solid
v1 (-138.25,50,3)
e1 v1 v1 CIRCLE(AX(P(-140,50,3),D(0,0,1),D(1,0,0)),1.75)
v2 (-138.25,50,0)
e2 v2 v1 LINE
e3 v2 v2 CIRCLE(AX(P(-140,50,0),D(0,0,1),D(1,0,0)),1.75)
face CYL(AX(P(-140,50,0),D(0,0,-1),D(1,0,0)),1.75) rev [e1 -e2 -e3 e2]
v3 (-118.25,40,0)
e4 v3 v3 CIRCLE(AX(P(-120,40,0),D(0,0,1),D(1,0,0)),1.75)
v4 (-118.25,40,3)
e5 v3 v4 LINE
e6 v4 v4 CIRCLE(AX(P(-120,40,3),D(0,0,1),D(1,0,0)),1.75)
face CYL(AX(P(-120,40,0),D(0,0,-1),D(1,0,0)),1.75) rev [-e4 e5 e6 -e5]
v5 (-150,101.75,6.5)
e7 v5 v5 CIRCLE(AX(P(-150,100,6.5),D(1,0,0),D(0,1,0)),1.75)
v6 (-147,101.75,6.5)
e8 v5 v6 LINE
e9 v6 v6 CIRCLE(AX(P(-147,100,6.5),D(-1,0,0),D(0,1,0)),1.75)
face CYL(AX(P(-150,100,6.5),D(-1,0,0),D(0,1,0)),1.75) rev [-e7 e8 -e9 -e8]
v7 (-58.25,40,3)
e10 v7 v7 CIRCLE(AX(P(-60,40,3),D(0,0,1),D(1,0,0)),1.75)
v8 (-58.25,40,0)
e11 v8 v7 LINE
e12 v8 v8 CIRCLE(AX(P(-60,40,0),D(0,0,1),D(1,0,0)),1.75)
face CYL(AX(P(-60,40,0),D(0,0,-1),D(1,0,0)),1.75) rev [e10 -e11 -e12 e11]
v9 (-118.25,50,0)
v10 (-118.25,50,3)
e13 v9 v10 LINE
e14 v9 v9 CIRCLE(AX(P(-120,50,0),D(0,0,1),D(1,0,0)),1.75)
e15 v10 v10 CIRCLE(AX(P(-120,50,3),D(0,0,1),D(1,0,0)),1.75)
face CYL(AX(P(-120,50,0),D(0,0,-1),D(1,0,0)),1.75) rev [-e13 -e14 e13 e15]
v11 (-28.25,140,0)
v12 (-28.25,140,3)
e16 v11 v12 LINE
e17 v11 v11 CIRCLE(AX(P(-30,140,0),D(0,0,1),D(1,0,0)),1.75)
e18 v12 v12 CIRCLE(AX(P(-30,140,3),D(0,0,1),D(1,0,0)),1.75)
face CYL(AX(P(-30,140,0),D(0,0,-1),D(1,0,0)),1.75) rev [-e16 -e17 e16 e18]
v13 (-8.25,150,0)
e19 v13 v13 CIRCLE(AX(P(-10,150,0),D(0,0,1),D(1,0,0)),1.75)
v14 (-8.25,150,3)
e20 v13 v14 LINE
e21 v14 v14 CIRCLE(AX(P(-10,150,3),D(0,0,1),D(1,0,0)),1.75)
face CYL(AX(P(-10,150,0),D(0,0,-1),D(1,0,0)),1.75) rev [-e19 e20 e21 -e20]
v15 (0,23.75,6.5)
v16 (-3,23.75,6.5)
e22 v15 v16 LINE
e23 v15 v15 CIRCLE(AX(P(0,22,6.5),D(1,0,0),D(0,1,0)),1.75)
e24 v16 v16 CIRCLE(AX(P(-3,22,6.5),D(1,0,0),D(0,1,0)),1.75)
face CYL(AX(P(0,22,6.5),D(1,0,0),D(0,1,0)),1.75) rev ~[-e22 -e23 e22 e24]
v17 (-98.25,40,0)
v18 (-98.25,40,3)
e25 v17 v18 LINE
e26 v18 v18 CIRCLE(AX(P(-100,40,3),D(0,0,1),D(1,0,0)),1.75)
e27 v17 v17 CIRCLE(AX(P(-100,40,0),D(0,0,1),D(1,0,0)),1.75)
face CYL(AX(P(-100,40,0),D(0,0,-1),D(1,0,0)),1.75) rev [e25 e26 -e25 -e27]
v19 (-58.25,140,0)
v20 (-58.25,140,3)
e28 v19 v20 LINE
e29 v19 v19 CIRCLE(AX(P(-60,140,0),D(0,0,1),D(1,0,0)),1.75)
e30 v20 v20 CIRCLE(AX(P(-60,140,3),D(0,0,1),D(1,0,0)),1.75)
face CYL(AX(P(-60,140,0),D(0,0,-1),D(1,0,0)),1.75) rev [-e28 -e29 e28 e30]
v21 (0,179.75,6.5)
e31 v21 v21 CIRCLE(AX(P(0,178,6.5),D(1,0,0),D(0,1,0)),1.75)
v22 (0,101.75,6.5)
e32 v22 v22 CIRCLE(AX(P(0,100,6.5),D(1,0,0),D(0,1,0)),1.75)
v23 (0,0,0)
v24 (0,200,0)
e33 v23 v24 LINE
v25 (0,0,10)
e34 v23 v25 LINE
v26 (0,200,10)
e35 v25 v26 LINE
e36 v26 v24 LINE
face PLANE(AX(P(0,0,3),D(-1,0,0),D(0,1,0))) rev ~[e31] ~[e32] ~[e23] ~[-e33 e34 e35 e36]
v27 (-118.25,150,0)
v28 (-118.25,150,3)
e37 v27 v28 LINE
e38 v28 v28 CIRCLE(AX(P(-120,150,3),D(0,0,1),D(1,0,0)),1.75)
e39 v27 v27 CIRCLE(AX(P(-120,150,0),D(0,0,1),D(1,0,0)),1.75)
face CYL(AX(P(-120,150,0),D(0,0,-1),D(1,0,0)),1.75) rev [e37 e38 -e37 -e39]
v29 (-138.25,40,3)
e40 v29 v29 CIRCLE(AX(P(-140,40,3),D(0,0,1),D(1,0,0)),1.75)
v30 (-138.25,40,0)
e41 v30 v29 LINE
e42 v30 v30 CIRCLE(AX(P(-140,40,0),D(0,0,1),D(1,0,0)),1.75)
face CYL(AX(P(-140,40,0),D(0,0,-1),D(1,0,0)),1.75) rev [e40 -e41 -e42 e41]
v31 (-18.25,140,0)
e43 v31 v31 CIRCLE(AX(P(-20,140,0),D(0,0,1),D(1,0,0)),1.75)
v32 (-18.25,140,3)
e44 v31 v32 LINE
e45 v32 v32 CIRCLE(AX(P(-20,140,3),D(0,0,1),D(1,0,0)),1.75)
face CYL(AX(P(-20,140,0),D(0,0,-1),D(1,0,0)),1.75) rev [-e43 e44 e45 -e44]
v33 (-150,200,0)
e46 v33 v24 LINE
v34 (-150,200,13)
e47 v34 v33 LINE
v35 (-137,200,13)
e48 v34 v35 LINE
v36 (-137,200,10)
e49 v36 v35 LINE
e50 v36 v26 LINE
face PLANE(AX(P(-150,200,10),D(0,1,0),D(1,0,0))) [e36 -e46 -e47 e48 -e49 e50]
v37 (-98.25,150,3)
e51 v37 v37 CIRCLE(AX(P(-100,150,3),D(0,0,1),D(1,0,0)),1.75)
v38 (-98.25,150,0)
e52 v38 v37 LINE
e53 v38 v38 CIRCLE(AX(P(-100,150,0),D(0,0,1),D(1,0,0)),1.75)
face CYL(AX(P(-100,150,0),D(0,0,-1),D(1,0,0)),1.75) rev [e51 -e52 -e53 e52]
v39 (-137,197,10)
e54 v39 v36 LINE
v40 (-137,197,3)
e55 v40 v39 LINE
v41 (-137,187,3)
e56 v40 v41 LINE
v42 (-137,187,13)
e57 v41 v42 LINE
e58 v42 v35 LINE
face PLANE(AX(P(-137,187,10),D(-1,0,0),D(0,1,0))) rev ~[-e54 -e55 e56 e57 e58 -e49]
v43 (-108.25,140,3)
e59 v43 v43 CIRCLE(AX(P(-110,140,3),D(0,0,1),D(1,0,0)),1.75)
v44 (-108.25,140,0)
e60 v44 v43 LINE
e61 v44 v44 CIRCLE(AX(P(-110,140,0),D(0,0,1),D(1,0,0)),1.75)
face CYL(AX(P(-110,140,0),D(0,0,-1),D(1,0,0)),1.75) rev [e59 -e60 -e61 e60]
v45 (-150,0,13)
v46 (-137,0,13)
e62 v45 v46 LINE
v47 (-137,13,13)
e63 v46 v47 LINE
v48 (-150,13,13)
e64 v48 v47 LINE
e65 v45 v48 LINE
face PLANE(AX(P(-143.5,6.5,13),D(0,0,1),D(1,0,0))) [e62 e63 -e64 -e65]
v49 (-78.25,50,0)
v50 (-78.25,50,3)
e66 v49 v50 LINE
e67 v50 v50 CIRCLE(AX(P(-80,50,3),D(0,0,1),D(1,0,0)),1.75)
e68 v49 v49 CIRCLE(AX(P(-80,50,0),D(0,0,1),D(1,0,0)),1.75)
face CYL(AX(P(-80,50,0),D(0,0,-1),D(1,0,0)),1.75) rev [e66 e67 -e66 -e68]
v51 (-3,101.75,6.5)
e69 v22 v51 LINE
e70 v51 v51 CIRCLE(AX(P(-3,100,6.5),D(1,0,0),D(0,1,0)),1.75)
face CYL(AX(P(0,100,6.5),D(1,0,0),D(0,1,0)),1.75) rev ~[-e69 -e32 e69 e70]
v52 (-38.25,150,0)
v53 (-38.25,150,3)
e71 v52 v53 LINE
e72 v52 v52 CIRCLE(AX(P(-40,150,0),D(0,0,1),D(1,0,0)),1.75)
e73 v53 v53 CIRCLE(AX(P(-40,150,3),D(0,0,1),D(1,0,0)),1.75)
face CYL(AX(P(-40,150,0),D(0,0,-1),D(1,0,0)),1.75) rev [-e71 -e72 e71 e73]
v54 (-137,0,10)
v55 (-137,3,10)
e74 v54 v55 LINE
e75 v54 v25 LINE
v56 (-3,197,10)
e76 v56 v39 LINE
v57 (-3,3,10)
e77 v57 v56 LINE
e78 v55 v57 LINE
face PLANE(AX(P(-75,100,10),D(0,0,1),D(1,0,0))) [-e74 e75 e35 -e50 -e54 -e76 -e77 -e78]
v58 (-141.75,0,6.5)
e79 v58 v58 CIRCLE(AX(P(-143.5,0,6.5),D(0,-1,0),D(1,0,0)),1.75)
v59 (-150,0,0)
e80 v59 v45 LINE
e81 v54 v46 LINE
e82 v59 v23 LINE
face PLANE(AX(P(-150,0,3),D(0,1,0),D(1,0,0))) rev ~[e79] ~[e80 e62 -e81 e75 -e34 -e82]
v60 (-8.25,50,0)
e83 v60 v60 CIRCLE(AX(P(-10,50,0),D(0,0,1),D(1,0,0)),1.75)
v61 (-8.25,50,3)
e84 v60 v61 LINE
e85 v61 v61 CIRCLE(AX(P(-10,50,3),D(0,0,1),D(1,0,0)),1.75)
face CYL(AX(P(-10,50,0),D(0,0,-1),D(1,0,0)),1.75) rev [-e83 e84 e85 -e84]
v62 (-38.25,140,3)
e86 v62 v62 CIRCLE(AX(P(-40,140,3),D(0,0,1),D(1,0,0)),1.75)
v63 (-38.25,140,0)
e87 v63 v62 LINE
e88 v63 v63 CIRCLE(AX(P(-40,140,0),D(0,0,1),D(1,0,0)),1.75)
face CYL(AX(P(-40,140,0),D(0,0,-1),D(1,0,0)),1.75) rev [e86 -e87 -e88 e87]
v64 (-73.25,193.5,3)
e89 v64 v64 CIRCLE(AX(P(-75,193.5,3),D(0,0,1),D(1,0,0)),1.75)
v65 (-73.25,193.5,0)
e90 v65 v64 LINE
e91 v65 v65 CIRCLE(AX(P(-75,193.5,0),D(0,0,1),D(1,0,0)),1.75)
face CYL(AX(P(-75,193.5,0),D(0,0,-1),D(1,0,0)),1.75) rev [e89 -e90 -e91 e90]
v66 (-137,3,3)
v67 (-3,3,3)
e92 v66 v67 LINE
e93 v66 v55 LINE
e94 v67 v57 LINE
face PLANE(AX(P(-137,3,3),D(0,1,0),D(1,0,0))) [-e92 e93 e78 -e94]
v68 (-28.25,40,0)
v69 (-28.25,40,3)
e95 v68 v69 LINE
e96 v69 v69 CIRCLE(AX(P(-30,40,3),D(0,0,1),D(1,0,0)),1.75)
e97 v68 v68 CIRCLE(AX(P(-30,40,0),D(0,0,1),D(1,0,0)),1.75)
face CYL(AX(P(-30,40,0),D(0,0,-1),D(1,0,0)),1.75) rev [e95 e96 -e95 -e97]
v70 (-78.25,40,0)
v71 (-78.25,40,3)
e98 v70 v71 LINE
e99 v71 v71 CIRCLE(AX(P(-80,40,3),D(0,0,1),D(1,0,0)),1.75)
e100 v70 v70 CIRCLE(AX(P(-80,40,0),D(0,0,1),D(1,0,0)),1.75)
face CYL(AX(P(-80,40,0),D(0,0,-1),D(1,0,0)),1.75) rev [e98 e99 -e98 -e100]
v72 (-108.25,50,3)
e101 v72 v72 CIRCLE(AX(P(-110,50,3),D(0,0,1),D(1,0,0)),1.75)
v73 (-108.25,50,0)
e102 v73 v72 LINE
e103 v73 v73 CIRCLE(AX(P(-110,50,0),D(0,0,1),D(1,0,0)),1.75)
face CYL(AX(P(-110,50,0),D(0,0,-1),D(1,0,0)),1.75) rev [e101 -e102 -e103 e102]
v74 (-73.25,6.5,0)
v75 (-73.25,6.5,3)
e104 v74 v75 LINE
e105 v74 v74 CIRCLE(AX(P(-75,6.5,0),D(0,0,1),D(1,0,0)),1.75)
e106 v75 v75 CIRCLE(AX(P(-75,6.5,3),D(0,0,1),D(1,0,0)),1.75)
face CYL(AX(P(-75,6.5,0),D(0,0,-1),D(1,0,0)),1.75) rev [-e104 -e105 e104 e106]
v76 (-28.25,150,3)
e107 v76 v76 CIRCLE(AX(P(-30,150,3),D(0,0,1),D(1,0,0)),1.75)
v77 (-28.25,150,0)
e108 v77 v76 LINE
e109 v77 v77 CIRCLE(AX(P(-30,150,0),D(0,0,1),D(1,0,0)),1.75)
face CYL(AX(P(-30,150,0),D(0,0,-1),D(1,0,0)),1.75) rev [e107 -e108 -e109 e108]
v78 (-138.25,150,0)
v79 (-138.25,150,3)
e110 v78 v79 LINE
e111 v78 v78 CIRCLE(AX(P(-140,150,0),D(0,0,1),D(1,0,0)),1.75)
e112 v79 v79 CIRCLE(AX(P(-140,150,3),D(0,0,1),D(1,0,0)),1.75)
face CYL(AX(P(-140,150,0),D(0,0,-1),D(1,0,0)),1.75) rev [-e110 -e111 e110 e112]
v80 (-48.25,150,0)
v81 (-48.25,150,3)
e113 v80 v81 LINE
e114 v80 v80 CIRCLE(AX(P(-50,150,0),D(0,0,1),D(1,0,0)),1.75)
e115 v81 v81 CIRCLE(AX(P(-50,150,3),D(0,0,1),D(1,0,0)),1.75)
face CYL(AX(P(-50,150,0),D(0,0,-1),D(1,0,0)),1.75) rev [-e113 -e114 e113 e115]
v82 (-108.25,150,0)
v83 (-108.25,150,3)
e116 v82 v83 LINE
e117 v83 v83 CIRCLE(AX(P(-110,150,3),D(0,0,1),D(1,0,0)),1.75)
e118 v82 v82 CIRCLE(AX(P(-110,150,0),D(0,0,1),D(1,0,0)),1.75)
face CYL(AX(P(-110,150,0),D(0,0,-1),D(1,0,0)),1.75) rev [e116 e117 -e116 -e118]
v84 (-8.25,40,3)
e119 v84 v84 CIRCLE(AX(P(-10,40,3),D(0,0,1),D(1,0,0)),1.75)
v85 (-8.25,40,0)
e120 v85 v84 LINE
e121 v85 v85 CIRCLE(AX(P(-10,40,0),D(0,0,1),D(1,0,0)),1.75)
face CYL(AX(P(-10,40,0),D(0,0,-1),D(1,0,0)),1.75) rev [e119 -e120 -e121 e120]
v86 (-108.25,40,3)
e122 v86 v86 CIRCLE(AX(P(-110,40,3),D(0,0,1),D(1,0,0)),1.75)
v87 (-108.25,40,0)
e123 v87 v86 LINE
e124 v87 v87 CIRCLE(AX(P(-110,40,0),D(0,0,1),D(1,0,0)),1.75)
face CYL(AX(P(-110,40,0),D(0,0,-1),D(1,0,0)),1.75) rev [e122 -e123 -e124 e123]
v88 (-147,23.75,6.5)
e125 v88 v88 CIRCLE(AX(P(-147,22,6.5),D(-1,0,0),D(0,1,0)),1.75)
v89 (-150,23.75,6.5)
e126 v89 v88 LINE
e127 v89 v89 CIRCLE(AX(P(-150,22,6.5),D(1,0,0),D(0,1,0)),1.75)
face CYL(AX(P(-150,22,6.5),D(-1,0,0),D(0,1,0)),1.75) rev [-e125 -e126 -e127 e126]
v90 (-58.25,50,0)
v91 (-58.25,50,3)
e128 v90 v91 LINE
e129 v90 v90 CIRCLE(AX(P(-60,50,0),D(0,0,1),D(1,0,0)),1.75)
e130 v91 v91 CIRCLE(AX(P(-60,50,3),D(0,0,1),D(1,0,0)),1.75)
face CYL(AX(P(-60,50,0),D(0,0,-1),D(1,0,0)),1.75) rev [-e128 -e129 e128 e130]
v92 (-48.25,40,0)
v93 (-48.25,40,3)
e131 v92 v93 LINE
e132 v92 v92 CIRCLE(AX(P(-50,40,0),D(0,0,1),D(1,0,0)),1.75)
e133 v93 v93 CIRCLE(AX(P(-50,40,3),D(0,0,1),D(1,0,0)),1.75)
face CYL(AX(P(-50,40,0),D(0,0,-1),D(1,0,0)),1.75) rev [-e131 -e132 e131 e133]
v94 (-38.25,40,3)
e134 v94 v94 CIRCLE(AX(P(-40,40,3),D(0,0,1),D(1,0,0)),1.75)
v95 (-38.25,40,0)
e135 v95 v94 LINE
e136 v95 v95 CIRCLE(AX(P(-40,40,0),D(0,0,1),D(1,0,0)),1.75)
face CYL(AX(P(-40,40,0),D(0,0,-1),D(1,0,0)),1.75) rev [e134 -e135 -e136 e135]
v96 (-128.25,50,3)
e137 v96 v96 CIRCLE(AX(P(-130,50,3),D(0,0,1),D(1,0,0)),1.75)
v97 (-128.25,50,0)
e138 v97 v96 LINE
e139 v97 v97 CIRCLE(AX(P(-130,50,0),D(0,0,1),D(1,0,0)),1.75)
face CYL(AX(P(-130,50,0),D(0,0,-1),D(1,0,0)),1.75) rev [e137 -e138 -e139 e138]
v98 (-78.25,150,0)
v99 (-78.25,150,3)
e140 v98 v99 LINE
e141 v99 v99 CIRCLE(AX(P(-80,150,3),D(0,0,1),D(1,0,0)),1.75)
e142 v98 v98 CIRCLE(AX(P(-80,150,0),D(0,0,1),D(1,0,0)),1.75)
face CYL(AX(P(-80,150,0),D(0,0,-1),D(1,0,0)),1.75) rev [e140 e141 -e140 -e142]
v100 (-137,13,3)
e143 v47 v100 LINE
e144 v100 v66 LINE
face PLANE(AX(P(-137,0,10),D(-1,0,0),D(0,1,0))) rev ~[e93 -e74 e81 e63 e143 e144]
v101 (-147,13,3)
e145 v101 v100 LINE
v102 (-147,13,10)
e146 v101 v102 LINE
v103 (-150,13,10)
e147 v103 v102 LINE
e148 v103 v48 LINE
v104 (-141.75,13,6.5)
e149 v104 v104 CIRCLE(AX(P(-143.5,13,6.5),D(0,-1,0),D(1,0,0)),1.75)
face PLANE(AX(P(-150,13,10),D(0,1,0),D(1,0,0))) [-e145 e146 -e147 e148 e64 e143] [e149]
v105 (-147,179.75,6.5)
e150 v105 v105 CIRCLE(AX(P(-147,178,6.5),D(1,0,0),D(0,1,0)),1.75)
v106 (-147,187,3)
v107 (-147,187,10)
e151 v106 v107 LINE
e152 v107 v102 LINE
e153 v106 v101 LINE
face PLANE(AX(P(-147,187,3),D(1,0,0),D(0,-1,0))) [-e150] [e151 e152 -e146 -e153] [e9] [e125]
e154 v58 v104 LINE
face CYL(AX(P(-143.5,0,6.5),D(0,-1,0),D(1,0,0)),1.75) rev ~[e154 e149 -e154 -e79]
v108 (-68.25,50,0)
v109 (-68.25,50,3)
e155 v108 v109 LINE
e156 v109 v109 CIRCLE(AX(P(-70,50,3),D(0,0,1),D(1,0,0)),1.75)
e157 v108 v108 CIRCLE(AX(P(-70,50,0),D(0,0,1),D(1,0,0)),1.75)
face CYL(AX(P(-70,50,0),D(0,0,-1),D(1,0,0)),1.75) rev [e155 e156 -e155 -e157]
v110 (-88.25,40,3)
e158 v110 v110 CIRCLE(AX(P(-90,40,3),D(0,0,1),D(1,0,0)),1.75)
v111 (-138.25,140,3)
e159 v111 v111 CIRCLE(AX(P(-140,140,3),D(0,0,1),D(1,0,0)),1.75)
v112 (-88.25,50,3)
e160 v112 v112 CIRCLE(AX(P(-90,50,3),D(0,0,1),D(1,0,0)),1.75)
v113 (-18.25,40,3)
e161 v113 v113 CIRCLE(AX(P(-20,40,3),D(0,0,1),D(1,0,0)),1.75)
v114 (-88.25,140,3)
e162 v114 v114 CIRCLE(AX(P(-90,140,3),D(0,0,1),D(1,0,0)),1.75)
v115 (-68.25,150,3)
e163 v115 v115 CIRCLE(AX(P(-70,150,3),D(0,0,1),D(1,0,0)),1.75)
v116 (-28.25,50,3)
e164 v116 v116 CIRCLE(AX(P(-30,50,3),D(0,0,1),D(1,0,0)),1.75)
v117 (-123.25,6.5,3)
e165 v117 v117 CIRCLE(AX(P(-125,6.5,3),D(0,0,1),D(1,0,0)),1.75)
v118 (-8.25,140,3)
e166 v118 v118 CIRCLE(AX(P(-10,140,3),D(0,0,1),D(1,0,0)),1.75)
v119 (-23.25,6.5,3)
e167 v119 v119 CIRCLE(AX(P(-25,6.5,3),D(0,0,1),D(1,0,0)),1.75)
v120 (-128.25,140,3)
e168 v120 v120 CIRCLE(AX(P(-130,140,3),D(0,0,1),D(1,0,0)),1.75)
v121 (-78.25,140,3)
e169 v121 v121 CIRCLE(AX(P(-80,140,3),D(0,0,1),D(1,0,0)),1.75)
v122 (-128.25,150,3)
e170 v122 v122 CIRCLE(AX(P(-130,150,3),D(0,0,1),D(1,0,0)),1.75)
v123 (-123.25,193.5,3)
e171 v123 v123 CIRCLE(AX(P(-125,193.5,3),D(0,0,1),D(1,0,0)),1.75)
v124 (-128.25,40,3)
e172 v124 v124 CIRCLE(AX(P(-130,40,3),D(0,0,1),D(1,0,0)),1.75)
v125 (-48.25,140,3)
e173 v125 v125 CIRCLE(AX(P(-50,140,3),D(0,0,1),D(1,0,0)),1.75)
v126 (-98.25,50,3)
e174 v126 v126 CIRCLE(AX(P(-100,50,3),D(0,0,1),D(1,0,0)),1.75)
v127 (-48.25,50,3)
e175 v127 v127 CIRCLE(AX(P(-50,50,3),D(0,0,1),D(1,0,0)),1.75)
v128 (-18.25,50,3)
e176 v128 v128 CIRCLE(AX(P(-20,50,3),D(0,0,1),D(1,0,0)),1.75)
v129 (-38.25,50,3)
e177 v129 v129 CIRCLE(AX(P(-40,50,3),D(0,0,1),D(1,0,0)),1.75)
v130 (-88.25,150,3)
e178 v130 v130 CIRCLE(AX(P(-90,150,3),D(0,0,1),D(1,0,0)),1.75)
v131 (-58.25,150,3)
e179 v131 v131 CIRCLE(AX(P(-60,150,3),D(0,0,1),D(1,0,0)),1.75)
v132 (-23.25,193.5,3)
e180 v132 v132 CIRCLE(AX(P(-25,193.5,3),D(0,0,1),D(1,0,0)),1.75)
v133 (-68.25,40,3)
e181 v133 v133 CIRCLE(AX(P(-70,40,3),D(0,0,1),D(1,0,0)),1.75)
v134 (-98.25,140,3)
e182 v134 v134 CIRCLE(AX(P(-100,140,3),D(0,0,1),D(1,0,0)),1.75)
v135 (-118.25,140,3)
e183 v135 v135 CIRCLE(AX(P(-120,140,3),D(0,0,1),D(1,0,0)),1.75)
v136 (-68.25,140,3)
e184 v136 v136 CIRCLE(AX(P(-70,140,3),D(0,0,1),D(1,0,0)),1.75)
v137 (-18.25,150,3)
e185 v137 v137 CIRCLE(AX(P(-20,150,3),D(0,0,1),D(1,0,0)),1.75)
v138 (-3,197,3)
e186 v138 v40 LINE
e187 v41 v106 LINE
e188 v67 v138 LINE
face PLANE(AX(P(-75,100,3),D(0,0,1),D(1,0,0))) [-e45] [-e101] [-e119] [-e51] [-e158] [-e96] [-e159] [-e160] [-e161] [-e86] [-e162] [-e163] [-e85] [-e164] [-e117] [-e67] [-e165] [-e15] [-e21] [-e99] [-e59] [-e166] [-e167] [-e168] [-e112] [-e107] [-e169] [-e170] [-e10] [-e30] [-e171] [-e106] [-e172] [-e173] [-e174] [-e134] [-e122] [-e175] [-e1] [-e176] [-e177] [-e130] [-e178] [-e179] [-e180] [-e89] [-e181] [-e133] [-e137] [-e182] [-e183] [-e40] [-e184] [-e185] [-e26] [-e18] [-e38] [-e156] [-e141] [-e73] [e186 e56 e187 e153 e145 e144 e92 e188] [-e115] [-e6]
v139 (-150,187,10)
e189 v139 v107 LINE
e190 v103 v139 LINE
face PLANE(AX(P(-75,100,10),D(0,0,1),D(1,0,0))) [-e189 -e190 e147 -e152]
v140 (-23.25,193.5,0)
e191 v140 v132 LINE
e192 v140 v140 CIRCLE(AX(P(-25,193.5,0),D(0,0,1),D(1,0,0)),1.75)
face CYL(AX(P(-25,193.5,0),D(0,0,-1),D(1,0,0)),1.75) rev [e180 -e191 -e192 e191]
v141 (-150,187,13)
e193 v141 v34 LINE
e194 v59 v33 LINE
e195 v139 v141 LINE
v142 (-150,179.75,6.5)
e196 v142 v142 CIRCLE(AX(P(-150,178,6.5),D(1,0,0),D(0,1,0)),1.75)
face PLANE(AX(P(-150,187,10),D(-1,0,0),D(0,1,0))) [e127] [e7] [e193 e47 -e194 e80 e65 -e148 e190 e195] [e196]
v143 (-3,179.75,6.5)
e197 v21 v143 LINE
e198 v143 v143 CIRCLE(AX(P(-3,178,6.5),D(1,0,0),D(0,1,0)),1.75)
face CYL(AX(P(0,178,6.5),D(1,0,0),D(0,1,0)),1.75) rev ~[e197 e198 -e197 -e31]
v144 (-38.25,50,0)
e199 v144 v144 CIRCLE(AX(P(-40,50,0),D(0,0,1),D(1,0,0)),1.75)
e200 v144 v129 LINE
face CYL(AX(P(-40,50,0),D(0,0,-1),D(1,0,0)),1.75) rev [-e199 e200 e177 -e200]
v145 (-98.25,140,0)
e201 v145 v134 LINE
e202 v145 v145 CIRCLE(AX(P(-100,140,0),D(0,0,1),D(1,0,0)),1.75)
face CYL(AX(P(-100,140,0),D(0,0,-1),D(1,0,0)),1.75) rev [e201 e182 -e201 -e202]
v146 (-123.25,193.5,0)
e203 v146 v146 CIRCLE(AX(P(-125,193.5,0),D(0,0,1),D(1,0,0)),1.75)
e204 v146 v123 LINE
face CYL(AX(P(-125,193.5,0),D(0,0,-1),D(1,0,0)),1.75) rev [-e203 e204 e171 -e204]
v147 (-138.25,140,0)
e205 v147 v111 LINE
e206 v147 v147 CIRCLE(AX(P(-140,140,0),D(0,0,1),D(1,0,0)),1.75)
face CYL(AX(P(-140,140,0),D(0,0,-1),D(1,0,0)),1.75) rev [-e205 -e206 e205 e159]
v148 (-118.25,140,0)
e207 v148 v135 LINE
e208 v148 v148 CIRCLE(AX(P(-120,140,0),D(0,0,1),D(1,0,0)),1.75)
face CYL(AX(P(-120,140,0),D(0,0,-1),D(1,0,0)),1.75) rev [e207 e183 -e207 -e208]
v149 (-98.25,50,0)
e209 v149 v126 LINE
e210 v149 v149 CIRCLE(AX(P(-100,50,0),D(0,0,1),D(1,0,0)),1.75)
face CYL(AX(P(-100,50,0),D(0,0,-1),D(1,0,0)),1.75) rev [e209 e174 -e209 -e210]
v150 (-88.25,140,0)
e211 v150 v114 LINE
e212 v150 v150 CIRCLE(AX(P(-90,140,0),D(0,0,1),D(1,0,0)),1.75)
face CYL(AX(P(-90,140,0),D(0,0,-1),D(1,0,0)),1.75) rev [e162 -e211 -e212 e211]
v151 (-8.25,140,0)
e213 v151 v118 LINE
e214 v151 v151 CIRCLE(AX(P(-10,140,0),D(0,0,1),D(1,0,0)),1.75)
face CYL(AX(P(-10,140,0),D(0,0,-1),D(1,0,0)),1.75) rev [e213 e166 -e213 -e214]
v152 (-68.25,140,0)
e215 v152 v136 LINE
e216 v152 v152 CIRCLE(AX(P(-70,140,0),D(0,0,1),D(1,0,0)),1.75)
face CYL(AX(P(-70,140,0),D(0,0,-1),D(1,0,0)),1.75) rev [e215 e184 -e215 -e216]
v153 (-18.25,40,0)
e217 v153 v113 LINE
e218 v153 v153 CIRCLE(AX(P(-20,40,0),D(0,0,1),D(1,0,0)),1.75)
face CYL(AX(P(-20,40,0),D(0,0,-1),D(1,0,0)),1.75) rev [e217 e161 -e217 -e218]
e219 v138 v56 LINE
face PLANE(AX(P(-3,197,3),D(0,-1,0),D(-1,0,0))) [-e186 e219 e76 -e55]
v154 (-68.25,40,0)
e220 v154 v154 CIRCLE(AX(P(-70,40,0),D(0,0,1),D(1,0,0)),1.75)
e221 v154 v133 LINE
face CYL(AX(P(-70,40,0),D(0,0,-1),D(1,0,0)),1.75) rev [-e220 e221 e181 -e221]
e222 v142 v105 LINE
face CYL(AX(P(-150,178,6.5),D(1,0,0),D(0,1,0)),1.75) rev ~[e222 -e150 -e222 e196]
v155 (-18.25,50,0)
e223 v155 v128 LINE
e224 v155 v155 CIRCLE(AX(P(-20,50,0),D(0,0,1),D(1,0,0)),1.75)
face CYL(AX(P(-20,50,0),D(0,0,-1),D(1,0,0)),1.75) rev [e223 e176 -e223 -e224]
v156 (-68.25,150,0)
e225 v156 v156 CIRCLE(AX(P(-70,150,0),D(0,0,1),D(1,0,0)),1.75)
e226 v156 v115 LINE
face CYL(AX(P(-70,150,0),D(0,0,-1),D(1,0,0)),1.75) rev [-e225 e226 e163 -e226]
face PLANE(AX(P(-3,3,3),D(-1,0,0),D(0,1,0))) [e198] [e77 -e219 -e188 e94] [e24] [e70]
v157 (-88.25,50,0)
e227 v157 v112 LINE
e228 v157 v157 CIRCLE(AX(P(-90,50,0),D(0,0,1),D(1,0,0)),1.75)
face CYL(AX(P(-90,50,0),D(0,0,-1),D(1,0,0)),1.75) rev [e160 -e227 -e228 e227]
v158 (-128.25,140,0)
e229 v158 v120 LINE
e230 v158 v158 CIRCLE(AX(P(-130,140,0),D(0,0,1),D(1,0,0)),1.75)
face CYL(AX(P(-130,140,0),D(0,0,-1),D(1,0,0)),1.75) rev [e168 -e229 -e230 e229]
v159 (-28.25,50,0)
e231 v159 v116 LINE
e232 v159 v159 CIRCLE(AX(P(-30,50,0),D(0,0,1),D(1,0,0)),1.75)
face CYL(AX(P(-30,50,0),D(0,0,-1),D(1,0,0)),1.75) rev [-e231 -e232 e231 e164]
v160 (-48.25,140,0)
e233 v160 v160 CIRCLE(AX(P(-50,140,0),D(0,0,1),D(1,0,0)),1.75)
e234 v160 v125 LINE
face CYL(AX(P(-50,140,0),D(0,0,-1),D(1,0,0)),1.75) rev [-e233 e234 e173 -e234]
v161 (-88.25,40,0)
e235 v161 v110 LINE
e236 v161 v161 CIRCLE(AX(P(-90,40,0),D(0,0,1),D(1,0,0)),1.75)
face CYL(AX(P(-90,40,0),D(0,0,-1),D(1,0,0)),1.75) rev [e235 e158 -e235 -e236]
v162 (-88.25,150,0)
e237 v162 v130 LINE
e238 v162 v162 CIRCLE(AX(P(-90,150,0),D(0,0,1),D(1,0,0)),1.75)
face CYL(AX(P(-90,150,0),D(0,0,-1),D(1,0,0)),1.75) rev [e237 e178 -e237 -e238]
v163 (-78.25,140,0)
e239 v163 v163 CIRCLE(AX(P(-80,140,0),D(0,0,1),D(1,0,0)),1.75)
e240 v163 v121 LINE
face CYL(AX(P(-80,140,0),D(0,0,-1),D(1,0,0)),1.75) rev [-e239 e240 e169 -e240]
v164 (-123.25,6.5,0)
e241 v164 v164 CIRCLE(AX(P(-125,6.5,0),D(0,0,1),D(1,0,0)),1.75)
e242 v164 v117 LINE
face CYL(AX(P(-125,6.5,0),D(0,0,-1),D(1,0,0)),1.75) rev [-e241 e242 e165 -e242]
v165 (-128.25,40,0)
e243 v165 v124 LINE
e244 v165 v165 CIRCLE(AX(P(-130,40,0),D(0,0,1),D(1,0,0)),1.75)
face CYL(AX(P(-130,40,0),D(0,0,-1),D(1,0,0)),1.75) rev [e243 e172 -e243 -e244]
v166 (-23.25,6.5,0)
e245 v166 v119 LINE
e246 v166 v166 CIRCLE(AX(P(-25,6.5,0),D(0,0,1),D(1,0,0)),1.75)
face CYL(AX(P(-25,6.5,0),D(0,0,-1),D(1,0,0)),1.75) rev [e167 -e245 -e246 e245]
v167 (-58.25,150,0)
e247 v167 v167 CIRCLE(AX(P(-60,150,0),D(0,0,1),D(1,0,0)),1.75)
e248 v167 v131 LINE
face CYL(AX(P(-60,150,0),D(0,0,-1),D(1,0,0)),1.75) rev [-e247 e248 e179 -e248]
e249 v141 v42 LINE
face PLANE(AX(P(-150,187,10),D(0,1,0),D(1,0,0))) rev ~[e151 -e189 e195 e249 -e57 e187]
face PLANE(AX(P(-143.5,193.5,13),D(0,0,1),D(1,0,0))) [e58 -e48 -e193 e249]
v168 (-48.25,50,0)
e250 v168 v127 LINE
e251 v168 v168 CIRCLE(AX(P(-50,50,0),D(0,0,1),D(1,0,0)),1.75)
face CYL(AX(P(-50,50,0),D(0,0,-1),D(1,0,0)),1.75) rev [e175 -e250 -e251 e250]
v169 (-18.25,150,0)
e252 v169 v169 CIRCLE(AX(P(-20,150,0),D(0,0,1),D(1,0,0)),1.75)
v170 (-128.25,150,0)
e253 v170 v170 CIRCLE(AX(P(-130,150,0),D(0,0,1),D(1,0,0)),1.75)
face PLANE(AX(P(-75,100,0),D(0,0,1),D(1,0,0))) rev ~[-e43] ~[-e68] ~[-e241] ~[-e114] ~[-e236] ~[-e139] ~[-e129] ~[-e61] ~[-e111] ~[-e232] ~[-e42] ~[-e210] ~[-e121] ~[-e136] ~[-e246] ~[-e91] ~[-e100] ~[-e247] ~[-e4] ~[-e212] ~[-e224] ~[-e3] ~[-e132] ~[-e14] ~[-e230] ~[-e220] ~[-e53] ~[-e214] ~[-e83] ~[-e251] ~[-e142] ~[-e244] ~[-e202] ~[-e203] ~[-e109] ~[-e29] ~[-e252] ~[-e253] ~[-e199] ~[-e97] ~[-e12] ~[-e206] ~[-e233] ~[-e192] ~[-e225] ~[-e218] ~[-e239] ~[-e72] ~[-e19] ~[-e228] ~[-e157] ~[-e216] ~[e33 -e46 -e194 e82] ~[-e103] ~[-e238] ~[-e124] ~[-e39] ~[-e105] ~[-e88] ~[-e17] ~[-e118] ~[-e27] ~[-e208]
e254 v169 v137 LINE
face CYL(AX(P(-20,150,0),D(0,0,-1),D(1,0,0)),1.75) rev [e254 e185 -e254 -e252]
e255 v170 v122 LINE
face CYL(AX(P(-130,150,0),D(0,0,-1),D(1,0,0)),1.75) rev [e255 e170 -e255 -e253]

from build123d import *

# Parameters (mm, degrees)
SKETCH_W        = 150
SKETCH_H        = 200
SKETCH_R        = 1.75
PAD_DEPTH       = 3
SKETCH001_W     = 150
SKETCH001_H     = 200
PAD001_DEPTH    = 7
SKETCH002_R     = 1.75
POCKET_DEPTH    = 5
SKETCH003_R     = 1.75
POCKET001_DEPTH = 7.5
SKETCH004_R     = 1.75
POCKET002_DEPTH = 14
SKETCH005_W     = 13
SKETCH005_H     = 13
PAD002_DEPTH    = 3


with BuildPart() as part:
    # Sketch → Pad (new body)
    with BuildSketch(Plane.XY):
        with Locations((-75, 100)):
            Rectangle(SKETCH_W, SKETCH_H)
        with Locations((-140, 40)):
            Circle(SKETCH_R, mode=Mode.SUBTRACT)
        with Locations((-130, 40)):
            Circle(SKETCH_R, mode=Mode.SUBTRACT)
        with Locations((-120, 40)):
            Circle(SKETCH_R, mode=Mode.SUBTRACT)
        with Locations((-110, 40)):
            Circle(SKETCH_R, mode=Mode.SUBTRACT)
        with Locations((-100, 40)):
            Circle(SKETCH_R, mode=Mode.SUBTRACT)
        with Locations((-90, 40)):
            Circle(SKETCH_R, mode=Mode.SUBTRACT)
        with Locations((-80, 40)):
            Circle(SKETCH_R, mode=Mode.SUBTRACT)
        with Locations((-70, 40)):
            Circle(SKETCH_R, mode=Mode.SUBTRACT)
        with Locations((-60, 40)):
            Circle(SKETCH_R, mode=Mode.SUBTRACT)
        with Locations((-50, 40)):
            Circle(SKETCH_R, mode=Mode.SUBTRACT)
        with Locations((-40, 40)):
            Circle(SKETCH_R, mode=Mode.SUBTRACT)
        with Locations((-30, 40)):
            Circle(SKETCH_R, mode=Mode.SUBTRACT)
        with Locations((-20, 40)):
            Circle(SKETCH_R, mode=Mode.SUBTRACT)
        with Locations((-10, 40)):
            Circle(SKETCH_R, mode=Mode.SUBTRACT)
        with Locations((-140, 50)):
            Circle(SKETCH_R, mode=Mode.SUBTRACT)
        with Locations((-130, 50)):
            Circle(SKETCH_R, mode=Mode.SUBTRACT)
        with Locations((-120, 50)):
            Circle(SKETCH_R, mode=Mode.SUBTRACT)
        with Locations((-110, 50)):
            Circle(SKETCH_R, mode=Mode.SUBTRACT)
        with Locations((-100, 50)):
            Circle(SKETCH_R, mode=Mode.SUBTRACT)
        with Locations((-90, 50)):
            Circle(SKETCH_R, mode=Mode.SUBTRACT)
        with Locations((-80, 50)):
            Circle(SKETCH_R, mode=Mode.SUBTRACT)
        with Locations((-70, 50)):
            Circle(SKETCH_R, mode=Mode.SUBTRACT)
        with Locations((-60, 50)):
            Circle(SKETCH_R, mode=Mode.SUBTRACT)
        with Locations((-50, 50)):
            Circle(SKETCH_R, mode=Mode.SUBTRACT)
        with Locations((-40, 50)):
            Circle(SKETCH_R, mode=Mode.SUBTRACT)
        with Locations((-30, 50)):
            Circle(SKETCH_R, mode=Mode.SUBTRACT)
        with Locations((-20, 50)):
            Circle(SKETCH_R, mode=Mode.SUBTRACT)
        with Locations((-10, 50)):
            Circle(SKETCH_R, mode=Mode.SUBTRACT)
        with Locations((-140, 140)):
            Circle(SKETCH_R, mode=Mode.SUBTRACT)
        with Locations((-130, 140)):
            Circle(SKETCH_R, mode=Mode.SUBTRACT)
        with Locations((-120, 140)):
            Circle(SKETCH_R, mode=Mode.SUBTRACT)
        with Locations((-110, 140)):
            Circle(SKETCH_R, mode=Mode.SUBTRACT)
        with Locations((-100, 140)):
            Circle(SKETCH_R, mode=Mode.SUBTRACT)
        with Locations((-90, 140)):
            Circle(SKETCH_R, mode=Mode.SUBTRACT)
        with Locations((-80, 140)):
            Circle(SKETCH_R, mode=Mode.SUBTRACT)
        with Locations((-70, 140)):
            Circle(SKETCH_R, mode=Mode.SUBTRACT)
        with Locations((-60, 140)):
            Circle(SKETCH_R, mode=Mode.SUBTRACT)
        with Locations((-50, 140)):
            Circle(SKETCH_R, mode=Mode.SUBTRACT)
        with Locations((-40, 140)):
            Circle(SKETCH_R, mode=Mode.SUBTRACT)
        with Locations((-30, 140)):
            Circle(SKETCH_R, mode=Mode.SUBTRACT)
        with Locations((-20, 140)):
            Circle(SKETCH_R, mode=Mode.SUBTRACT)
        with Locations((-10, 140)):
            Circle(SKETCH_R, mode=Mode.SUBTRACT)
        with Locations((-140, 150)):
            Circle(SKETCH_R, mode=Mode.SUBTRACT)
        with Locations((-130, 150)):
            Circle(SKETCH_R, mode=Mode.SUBTRACT)
        with Locations((-120, 150)):
            Circle(SKETCH_R, mode=Mode.SUBTRACT)
        with Locations((-110, 150)):
            Circle(SKETCH_R, mode=Mode.SUBTRACT)
        with Locations((-100, 150)):
            Circle(SKETCH_R, mode=Mode.SUBTRACT)
        with Locations((-90, 150)):
            Circle(SKETCH_R, mode=Mode.SUBTRACT)
        with Locations((-80, 150)):
            Circle(SKETCH_R, mode=Mode.SUBTRACT)
        with Locations((-70, 150)):
            Circle(SKETCH_R, mode=Mode.SUBTRACT)
        with Locations((-60, 150)):
            Circle(SKETCH_R, mode=Mode.SUBTRACT)
        with Locations((-50, 150)):
            Circle(SKETCH_R, mode=Mode.SUBTRACT)
        with Locations((-40, 150)):
            Circle(SKETCH_R, mode=Mode.SUBTRACT)
        with Locations((-30, 150)):
            Circle(SKETCH_R, mode=Mode.SUBTRACT)
        with Locations((-20, 150)):
            Circle(SKETCH_R, mode=Mode.SUBTRACT)
        with Locations((-10, 150)):
            Circle(SKETCH_R, mode=Mode.SUBTRACT)
        with Locations((-125, 193.5)):
            Circle(SKETCH_R, mode=Mode.SUBTRACT)
        with Locations((-125, 6.5)):
            Circle(SKETCH_R, mode=Mode.SUBTRACT)
        with Locations((-25, 6.5)):
            Circle(SKETCH_R, mode=Mode.SUBTRACT)
        with Locations((-75, 6.5)):
            Circle(SKETCH_R, mode=Mode.SUBTRACT)
        with Locations((-25, 193.5)):
            Circle(SKETCH_R, mode=Mode.SUBTRACT)
        with Locations((-75, 193.5)):
            Circle(SKETCH_R, mode=Mode.SUBTRACT)
    extrude(amount=PAD_DEPTH)

    # Sketch001 → Pad001 (join)
    with BuildSketch(Plane.XY.offset(3)):
        with Locations((-75, 100)):
            Rectangle(SKETCH001_W, SKETCH001_H)
        Polygon((-3, 197), (-137, 197), (-137, 187), (-147, 187), (-147, 13), (-137, 13), (-137, 3), (-3, 3), align=None, mode=Mode.SUBTRACT)
    extrude(amount=PAD001_DEPTH)

    # Sketch002 → Pocket (cut)
    with BuildSketch(Plane.YZ):
        with Locations((22, 6.5)):
            Circle(SKETCH002_R)
        with Locations((100, 6.5)):
            Circle(SKETCH002_R)
        with Locations((178, 6.5)):
            Circle(SKETCH002_R)
    extrude(amount=-POCKET_DEPTH, mode=Mode.SUBTRACT)

    # Sketch003 → Pocket001 (cut, symmetric)
    with BuildSketch(Plane.YZ.offset(-150)):
        with Locations((100, 6.5)):
            Circle(SKETCH003_R)
        with Locations((22, 6.5)):
            Circle(SKETCH003_R)
        with Locations((178, 6.5)):
            Circle(SKETCH003_R)
    extrude(amount=POCKET001_DEPTH, both=True, mode=Mode.SUBTRACT)

    # Sketch004 → Pocket002 (cut)
    with BuildSketch(Plane.XZ):
        with Locations((-143.5, 6.5)):
            Circle(SKETCH004_R)
    extrude(amount=-POCKET002_DEPTH, mode=Mode.SUBTRACT)

    # Sketch005 → Pad002 (join)
    with BuildSketch(Plane.XY.offset(10)):
        with Locations((-143.5, 193.5)):
            Rectangle(SKETCH005_W, SKETCH005_H)
        with Locations((-143.5, 6.5)):
            Rectangle(SKETCH005_W, SKETCH005_H)
    extrude(amount=PAD002_DEPTH)


solid = part.part
